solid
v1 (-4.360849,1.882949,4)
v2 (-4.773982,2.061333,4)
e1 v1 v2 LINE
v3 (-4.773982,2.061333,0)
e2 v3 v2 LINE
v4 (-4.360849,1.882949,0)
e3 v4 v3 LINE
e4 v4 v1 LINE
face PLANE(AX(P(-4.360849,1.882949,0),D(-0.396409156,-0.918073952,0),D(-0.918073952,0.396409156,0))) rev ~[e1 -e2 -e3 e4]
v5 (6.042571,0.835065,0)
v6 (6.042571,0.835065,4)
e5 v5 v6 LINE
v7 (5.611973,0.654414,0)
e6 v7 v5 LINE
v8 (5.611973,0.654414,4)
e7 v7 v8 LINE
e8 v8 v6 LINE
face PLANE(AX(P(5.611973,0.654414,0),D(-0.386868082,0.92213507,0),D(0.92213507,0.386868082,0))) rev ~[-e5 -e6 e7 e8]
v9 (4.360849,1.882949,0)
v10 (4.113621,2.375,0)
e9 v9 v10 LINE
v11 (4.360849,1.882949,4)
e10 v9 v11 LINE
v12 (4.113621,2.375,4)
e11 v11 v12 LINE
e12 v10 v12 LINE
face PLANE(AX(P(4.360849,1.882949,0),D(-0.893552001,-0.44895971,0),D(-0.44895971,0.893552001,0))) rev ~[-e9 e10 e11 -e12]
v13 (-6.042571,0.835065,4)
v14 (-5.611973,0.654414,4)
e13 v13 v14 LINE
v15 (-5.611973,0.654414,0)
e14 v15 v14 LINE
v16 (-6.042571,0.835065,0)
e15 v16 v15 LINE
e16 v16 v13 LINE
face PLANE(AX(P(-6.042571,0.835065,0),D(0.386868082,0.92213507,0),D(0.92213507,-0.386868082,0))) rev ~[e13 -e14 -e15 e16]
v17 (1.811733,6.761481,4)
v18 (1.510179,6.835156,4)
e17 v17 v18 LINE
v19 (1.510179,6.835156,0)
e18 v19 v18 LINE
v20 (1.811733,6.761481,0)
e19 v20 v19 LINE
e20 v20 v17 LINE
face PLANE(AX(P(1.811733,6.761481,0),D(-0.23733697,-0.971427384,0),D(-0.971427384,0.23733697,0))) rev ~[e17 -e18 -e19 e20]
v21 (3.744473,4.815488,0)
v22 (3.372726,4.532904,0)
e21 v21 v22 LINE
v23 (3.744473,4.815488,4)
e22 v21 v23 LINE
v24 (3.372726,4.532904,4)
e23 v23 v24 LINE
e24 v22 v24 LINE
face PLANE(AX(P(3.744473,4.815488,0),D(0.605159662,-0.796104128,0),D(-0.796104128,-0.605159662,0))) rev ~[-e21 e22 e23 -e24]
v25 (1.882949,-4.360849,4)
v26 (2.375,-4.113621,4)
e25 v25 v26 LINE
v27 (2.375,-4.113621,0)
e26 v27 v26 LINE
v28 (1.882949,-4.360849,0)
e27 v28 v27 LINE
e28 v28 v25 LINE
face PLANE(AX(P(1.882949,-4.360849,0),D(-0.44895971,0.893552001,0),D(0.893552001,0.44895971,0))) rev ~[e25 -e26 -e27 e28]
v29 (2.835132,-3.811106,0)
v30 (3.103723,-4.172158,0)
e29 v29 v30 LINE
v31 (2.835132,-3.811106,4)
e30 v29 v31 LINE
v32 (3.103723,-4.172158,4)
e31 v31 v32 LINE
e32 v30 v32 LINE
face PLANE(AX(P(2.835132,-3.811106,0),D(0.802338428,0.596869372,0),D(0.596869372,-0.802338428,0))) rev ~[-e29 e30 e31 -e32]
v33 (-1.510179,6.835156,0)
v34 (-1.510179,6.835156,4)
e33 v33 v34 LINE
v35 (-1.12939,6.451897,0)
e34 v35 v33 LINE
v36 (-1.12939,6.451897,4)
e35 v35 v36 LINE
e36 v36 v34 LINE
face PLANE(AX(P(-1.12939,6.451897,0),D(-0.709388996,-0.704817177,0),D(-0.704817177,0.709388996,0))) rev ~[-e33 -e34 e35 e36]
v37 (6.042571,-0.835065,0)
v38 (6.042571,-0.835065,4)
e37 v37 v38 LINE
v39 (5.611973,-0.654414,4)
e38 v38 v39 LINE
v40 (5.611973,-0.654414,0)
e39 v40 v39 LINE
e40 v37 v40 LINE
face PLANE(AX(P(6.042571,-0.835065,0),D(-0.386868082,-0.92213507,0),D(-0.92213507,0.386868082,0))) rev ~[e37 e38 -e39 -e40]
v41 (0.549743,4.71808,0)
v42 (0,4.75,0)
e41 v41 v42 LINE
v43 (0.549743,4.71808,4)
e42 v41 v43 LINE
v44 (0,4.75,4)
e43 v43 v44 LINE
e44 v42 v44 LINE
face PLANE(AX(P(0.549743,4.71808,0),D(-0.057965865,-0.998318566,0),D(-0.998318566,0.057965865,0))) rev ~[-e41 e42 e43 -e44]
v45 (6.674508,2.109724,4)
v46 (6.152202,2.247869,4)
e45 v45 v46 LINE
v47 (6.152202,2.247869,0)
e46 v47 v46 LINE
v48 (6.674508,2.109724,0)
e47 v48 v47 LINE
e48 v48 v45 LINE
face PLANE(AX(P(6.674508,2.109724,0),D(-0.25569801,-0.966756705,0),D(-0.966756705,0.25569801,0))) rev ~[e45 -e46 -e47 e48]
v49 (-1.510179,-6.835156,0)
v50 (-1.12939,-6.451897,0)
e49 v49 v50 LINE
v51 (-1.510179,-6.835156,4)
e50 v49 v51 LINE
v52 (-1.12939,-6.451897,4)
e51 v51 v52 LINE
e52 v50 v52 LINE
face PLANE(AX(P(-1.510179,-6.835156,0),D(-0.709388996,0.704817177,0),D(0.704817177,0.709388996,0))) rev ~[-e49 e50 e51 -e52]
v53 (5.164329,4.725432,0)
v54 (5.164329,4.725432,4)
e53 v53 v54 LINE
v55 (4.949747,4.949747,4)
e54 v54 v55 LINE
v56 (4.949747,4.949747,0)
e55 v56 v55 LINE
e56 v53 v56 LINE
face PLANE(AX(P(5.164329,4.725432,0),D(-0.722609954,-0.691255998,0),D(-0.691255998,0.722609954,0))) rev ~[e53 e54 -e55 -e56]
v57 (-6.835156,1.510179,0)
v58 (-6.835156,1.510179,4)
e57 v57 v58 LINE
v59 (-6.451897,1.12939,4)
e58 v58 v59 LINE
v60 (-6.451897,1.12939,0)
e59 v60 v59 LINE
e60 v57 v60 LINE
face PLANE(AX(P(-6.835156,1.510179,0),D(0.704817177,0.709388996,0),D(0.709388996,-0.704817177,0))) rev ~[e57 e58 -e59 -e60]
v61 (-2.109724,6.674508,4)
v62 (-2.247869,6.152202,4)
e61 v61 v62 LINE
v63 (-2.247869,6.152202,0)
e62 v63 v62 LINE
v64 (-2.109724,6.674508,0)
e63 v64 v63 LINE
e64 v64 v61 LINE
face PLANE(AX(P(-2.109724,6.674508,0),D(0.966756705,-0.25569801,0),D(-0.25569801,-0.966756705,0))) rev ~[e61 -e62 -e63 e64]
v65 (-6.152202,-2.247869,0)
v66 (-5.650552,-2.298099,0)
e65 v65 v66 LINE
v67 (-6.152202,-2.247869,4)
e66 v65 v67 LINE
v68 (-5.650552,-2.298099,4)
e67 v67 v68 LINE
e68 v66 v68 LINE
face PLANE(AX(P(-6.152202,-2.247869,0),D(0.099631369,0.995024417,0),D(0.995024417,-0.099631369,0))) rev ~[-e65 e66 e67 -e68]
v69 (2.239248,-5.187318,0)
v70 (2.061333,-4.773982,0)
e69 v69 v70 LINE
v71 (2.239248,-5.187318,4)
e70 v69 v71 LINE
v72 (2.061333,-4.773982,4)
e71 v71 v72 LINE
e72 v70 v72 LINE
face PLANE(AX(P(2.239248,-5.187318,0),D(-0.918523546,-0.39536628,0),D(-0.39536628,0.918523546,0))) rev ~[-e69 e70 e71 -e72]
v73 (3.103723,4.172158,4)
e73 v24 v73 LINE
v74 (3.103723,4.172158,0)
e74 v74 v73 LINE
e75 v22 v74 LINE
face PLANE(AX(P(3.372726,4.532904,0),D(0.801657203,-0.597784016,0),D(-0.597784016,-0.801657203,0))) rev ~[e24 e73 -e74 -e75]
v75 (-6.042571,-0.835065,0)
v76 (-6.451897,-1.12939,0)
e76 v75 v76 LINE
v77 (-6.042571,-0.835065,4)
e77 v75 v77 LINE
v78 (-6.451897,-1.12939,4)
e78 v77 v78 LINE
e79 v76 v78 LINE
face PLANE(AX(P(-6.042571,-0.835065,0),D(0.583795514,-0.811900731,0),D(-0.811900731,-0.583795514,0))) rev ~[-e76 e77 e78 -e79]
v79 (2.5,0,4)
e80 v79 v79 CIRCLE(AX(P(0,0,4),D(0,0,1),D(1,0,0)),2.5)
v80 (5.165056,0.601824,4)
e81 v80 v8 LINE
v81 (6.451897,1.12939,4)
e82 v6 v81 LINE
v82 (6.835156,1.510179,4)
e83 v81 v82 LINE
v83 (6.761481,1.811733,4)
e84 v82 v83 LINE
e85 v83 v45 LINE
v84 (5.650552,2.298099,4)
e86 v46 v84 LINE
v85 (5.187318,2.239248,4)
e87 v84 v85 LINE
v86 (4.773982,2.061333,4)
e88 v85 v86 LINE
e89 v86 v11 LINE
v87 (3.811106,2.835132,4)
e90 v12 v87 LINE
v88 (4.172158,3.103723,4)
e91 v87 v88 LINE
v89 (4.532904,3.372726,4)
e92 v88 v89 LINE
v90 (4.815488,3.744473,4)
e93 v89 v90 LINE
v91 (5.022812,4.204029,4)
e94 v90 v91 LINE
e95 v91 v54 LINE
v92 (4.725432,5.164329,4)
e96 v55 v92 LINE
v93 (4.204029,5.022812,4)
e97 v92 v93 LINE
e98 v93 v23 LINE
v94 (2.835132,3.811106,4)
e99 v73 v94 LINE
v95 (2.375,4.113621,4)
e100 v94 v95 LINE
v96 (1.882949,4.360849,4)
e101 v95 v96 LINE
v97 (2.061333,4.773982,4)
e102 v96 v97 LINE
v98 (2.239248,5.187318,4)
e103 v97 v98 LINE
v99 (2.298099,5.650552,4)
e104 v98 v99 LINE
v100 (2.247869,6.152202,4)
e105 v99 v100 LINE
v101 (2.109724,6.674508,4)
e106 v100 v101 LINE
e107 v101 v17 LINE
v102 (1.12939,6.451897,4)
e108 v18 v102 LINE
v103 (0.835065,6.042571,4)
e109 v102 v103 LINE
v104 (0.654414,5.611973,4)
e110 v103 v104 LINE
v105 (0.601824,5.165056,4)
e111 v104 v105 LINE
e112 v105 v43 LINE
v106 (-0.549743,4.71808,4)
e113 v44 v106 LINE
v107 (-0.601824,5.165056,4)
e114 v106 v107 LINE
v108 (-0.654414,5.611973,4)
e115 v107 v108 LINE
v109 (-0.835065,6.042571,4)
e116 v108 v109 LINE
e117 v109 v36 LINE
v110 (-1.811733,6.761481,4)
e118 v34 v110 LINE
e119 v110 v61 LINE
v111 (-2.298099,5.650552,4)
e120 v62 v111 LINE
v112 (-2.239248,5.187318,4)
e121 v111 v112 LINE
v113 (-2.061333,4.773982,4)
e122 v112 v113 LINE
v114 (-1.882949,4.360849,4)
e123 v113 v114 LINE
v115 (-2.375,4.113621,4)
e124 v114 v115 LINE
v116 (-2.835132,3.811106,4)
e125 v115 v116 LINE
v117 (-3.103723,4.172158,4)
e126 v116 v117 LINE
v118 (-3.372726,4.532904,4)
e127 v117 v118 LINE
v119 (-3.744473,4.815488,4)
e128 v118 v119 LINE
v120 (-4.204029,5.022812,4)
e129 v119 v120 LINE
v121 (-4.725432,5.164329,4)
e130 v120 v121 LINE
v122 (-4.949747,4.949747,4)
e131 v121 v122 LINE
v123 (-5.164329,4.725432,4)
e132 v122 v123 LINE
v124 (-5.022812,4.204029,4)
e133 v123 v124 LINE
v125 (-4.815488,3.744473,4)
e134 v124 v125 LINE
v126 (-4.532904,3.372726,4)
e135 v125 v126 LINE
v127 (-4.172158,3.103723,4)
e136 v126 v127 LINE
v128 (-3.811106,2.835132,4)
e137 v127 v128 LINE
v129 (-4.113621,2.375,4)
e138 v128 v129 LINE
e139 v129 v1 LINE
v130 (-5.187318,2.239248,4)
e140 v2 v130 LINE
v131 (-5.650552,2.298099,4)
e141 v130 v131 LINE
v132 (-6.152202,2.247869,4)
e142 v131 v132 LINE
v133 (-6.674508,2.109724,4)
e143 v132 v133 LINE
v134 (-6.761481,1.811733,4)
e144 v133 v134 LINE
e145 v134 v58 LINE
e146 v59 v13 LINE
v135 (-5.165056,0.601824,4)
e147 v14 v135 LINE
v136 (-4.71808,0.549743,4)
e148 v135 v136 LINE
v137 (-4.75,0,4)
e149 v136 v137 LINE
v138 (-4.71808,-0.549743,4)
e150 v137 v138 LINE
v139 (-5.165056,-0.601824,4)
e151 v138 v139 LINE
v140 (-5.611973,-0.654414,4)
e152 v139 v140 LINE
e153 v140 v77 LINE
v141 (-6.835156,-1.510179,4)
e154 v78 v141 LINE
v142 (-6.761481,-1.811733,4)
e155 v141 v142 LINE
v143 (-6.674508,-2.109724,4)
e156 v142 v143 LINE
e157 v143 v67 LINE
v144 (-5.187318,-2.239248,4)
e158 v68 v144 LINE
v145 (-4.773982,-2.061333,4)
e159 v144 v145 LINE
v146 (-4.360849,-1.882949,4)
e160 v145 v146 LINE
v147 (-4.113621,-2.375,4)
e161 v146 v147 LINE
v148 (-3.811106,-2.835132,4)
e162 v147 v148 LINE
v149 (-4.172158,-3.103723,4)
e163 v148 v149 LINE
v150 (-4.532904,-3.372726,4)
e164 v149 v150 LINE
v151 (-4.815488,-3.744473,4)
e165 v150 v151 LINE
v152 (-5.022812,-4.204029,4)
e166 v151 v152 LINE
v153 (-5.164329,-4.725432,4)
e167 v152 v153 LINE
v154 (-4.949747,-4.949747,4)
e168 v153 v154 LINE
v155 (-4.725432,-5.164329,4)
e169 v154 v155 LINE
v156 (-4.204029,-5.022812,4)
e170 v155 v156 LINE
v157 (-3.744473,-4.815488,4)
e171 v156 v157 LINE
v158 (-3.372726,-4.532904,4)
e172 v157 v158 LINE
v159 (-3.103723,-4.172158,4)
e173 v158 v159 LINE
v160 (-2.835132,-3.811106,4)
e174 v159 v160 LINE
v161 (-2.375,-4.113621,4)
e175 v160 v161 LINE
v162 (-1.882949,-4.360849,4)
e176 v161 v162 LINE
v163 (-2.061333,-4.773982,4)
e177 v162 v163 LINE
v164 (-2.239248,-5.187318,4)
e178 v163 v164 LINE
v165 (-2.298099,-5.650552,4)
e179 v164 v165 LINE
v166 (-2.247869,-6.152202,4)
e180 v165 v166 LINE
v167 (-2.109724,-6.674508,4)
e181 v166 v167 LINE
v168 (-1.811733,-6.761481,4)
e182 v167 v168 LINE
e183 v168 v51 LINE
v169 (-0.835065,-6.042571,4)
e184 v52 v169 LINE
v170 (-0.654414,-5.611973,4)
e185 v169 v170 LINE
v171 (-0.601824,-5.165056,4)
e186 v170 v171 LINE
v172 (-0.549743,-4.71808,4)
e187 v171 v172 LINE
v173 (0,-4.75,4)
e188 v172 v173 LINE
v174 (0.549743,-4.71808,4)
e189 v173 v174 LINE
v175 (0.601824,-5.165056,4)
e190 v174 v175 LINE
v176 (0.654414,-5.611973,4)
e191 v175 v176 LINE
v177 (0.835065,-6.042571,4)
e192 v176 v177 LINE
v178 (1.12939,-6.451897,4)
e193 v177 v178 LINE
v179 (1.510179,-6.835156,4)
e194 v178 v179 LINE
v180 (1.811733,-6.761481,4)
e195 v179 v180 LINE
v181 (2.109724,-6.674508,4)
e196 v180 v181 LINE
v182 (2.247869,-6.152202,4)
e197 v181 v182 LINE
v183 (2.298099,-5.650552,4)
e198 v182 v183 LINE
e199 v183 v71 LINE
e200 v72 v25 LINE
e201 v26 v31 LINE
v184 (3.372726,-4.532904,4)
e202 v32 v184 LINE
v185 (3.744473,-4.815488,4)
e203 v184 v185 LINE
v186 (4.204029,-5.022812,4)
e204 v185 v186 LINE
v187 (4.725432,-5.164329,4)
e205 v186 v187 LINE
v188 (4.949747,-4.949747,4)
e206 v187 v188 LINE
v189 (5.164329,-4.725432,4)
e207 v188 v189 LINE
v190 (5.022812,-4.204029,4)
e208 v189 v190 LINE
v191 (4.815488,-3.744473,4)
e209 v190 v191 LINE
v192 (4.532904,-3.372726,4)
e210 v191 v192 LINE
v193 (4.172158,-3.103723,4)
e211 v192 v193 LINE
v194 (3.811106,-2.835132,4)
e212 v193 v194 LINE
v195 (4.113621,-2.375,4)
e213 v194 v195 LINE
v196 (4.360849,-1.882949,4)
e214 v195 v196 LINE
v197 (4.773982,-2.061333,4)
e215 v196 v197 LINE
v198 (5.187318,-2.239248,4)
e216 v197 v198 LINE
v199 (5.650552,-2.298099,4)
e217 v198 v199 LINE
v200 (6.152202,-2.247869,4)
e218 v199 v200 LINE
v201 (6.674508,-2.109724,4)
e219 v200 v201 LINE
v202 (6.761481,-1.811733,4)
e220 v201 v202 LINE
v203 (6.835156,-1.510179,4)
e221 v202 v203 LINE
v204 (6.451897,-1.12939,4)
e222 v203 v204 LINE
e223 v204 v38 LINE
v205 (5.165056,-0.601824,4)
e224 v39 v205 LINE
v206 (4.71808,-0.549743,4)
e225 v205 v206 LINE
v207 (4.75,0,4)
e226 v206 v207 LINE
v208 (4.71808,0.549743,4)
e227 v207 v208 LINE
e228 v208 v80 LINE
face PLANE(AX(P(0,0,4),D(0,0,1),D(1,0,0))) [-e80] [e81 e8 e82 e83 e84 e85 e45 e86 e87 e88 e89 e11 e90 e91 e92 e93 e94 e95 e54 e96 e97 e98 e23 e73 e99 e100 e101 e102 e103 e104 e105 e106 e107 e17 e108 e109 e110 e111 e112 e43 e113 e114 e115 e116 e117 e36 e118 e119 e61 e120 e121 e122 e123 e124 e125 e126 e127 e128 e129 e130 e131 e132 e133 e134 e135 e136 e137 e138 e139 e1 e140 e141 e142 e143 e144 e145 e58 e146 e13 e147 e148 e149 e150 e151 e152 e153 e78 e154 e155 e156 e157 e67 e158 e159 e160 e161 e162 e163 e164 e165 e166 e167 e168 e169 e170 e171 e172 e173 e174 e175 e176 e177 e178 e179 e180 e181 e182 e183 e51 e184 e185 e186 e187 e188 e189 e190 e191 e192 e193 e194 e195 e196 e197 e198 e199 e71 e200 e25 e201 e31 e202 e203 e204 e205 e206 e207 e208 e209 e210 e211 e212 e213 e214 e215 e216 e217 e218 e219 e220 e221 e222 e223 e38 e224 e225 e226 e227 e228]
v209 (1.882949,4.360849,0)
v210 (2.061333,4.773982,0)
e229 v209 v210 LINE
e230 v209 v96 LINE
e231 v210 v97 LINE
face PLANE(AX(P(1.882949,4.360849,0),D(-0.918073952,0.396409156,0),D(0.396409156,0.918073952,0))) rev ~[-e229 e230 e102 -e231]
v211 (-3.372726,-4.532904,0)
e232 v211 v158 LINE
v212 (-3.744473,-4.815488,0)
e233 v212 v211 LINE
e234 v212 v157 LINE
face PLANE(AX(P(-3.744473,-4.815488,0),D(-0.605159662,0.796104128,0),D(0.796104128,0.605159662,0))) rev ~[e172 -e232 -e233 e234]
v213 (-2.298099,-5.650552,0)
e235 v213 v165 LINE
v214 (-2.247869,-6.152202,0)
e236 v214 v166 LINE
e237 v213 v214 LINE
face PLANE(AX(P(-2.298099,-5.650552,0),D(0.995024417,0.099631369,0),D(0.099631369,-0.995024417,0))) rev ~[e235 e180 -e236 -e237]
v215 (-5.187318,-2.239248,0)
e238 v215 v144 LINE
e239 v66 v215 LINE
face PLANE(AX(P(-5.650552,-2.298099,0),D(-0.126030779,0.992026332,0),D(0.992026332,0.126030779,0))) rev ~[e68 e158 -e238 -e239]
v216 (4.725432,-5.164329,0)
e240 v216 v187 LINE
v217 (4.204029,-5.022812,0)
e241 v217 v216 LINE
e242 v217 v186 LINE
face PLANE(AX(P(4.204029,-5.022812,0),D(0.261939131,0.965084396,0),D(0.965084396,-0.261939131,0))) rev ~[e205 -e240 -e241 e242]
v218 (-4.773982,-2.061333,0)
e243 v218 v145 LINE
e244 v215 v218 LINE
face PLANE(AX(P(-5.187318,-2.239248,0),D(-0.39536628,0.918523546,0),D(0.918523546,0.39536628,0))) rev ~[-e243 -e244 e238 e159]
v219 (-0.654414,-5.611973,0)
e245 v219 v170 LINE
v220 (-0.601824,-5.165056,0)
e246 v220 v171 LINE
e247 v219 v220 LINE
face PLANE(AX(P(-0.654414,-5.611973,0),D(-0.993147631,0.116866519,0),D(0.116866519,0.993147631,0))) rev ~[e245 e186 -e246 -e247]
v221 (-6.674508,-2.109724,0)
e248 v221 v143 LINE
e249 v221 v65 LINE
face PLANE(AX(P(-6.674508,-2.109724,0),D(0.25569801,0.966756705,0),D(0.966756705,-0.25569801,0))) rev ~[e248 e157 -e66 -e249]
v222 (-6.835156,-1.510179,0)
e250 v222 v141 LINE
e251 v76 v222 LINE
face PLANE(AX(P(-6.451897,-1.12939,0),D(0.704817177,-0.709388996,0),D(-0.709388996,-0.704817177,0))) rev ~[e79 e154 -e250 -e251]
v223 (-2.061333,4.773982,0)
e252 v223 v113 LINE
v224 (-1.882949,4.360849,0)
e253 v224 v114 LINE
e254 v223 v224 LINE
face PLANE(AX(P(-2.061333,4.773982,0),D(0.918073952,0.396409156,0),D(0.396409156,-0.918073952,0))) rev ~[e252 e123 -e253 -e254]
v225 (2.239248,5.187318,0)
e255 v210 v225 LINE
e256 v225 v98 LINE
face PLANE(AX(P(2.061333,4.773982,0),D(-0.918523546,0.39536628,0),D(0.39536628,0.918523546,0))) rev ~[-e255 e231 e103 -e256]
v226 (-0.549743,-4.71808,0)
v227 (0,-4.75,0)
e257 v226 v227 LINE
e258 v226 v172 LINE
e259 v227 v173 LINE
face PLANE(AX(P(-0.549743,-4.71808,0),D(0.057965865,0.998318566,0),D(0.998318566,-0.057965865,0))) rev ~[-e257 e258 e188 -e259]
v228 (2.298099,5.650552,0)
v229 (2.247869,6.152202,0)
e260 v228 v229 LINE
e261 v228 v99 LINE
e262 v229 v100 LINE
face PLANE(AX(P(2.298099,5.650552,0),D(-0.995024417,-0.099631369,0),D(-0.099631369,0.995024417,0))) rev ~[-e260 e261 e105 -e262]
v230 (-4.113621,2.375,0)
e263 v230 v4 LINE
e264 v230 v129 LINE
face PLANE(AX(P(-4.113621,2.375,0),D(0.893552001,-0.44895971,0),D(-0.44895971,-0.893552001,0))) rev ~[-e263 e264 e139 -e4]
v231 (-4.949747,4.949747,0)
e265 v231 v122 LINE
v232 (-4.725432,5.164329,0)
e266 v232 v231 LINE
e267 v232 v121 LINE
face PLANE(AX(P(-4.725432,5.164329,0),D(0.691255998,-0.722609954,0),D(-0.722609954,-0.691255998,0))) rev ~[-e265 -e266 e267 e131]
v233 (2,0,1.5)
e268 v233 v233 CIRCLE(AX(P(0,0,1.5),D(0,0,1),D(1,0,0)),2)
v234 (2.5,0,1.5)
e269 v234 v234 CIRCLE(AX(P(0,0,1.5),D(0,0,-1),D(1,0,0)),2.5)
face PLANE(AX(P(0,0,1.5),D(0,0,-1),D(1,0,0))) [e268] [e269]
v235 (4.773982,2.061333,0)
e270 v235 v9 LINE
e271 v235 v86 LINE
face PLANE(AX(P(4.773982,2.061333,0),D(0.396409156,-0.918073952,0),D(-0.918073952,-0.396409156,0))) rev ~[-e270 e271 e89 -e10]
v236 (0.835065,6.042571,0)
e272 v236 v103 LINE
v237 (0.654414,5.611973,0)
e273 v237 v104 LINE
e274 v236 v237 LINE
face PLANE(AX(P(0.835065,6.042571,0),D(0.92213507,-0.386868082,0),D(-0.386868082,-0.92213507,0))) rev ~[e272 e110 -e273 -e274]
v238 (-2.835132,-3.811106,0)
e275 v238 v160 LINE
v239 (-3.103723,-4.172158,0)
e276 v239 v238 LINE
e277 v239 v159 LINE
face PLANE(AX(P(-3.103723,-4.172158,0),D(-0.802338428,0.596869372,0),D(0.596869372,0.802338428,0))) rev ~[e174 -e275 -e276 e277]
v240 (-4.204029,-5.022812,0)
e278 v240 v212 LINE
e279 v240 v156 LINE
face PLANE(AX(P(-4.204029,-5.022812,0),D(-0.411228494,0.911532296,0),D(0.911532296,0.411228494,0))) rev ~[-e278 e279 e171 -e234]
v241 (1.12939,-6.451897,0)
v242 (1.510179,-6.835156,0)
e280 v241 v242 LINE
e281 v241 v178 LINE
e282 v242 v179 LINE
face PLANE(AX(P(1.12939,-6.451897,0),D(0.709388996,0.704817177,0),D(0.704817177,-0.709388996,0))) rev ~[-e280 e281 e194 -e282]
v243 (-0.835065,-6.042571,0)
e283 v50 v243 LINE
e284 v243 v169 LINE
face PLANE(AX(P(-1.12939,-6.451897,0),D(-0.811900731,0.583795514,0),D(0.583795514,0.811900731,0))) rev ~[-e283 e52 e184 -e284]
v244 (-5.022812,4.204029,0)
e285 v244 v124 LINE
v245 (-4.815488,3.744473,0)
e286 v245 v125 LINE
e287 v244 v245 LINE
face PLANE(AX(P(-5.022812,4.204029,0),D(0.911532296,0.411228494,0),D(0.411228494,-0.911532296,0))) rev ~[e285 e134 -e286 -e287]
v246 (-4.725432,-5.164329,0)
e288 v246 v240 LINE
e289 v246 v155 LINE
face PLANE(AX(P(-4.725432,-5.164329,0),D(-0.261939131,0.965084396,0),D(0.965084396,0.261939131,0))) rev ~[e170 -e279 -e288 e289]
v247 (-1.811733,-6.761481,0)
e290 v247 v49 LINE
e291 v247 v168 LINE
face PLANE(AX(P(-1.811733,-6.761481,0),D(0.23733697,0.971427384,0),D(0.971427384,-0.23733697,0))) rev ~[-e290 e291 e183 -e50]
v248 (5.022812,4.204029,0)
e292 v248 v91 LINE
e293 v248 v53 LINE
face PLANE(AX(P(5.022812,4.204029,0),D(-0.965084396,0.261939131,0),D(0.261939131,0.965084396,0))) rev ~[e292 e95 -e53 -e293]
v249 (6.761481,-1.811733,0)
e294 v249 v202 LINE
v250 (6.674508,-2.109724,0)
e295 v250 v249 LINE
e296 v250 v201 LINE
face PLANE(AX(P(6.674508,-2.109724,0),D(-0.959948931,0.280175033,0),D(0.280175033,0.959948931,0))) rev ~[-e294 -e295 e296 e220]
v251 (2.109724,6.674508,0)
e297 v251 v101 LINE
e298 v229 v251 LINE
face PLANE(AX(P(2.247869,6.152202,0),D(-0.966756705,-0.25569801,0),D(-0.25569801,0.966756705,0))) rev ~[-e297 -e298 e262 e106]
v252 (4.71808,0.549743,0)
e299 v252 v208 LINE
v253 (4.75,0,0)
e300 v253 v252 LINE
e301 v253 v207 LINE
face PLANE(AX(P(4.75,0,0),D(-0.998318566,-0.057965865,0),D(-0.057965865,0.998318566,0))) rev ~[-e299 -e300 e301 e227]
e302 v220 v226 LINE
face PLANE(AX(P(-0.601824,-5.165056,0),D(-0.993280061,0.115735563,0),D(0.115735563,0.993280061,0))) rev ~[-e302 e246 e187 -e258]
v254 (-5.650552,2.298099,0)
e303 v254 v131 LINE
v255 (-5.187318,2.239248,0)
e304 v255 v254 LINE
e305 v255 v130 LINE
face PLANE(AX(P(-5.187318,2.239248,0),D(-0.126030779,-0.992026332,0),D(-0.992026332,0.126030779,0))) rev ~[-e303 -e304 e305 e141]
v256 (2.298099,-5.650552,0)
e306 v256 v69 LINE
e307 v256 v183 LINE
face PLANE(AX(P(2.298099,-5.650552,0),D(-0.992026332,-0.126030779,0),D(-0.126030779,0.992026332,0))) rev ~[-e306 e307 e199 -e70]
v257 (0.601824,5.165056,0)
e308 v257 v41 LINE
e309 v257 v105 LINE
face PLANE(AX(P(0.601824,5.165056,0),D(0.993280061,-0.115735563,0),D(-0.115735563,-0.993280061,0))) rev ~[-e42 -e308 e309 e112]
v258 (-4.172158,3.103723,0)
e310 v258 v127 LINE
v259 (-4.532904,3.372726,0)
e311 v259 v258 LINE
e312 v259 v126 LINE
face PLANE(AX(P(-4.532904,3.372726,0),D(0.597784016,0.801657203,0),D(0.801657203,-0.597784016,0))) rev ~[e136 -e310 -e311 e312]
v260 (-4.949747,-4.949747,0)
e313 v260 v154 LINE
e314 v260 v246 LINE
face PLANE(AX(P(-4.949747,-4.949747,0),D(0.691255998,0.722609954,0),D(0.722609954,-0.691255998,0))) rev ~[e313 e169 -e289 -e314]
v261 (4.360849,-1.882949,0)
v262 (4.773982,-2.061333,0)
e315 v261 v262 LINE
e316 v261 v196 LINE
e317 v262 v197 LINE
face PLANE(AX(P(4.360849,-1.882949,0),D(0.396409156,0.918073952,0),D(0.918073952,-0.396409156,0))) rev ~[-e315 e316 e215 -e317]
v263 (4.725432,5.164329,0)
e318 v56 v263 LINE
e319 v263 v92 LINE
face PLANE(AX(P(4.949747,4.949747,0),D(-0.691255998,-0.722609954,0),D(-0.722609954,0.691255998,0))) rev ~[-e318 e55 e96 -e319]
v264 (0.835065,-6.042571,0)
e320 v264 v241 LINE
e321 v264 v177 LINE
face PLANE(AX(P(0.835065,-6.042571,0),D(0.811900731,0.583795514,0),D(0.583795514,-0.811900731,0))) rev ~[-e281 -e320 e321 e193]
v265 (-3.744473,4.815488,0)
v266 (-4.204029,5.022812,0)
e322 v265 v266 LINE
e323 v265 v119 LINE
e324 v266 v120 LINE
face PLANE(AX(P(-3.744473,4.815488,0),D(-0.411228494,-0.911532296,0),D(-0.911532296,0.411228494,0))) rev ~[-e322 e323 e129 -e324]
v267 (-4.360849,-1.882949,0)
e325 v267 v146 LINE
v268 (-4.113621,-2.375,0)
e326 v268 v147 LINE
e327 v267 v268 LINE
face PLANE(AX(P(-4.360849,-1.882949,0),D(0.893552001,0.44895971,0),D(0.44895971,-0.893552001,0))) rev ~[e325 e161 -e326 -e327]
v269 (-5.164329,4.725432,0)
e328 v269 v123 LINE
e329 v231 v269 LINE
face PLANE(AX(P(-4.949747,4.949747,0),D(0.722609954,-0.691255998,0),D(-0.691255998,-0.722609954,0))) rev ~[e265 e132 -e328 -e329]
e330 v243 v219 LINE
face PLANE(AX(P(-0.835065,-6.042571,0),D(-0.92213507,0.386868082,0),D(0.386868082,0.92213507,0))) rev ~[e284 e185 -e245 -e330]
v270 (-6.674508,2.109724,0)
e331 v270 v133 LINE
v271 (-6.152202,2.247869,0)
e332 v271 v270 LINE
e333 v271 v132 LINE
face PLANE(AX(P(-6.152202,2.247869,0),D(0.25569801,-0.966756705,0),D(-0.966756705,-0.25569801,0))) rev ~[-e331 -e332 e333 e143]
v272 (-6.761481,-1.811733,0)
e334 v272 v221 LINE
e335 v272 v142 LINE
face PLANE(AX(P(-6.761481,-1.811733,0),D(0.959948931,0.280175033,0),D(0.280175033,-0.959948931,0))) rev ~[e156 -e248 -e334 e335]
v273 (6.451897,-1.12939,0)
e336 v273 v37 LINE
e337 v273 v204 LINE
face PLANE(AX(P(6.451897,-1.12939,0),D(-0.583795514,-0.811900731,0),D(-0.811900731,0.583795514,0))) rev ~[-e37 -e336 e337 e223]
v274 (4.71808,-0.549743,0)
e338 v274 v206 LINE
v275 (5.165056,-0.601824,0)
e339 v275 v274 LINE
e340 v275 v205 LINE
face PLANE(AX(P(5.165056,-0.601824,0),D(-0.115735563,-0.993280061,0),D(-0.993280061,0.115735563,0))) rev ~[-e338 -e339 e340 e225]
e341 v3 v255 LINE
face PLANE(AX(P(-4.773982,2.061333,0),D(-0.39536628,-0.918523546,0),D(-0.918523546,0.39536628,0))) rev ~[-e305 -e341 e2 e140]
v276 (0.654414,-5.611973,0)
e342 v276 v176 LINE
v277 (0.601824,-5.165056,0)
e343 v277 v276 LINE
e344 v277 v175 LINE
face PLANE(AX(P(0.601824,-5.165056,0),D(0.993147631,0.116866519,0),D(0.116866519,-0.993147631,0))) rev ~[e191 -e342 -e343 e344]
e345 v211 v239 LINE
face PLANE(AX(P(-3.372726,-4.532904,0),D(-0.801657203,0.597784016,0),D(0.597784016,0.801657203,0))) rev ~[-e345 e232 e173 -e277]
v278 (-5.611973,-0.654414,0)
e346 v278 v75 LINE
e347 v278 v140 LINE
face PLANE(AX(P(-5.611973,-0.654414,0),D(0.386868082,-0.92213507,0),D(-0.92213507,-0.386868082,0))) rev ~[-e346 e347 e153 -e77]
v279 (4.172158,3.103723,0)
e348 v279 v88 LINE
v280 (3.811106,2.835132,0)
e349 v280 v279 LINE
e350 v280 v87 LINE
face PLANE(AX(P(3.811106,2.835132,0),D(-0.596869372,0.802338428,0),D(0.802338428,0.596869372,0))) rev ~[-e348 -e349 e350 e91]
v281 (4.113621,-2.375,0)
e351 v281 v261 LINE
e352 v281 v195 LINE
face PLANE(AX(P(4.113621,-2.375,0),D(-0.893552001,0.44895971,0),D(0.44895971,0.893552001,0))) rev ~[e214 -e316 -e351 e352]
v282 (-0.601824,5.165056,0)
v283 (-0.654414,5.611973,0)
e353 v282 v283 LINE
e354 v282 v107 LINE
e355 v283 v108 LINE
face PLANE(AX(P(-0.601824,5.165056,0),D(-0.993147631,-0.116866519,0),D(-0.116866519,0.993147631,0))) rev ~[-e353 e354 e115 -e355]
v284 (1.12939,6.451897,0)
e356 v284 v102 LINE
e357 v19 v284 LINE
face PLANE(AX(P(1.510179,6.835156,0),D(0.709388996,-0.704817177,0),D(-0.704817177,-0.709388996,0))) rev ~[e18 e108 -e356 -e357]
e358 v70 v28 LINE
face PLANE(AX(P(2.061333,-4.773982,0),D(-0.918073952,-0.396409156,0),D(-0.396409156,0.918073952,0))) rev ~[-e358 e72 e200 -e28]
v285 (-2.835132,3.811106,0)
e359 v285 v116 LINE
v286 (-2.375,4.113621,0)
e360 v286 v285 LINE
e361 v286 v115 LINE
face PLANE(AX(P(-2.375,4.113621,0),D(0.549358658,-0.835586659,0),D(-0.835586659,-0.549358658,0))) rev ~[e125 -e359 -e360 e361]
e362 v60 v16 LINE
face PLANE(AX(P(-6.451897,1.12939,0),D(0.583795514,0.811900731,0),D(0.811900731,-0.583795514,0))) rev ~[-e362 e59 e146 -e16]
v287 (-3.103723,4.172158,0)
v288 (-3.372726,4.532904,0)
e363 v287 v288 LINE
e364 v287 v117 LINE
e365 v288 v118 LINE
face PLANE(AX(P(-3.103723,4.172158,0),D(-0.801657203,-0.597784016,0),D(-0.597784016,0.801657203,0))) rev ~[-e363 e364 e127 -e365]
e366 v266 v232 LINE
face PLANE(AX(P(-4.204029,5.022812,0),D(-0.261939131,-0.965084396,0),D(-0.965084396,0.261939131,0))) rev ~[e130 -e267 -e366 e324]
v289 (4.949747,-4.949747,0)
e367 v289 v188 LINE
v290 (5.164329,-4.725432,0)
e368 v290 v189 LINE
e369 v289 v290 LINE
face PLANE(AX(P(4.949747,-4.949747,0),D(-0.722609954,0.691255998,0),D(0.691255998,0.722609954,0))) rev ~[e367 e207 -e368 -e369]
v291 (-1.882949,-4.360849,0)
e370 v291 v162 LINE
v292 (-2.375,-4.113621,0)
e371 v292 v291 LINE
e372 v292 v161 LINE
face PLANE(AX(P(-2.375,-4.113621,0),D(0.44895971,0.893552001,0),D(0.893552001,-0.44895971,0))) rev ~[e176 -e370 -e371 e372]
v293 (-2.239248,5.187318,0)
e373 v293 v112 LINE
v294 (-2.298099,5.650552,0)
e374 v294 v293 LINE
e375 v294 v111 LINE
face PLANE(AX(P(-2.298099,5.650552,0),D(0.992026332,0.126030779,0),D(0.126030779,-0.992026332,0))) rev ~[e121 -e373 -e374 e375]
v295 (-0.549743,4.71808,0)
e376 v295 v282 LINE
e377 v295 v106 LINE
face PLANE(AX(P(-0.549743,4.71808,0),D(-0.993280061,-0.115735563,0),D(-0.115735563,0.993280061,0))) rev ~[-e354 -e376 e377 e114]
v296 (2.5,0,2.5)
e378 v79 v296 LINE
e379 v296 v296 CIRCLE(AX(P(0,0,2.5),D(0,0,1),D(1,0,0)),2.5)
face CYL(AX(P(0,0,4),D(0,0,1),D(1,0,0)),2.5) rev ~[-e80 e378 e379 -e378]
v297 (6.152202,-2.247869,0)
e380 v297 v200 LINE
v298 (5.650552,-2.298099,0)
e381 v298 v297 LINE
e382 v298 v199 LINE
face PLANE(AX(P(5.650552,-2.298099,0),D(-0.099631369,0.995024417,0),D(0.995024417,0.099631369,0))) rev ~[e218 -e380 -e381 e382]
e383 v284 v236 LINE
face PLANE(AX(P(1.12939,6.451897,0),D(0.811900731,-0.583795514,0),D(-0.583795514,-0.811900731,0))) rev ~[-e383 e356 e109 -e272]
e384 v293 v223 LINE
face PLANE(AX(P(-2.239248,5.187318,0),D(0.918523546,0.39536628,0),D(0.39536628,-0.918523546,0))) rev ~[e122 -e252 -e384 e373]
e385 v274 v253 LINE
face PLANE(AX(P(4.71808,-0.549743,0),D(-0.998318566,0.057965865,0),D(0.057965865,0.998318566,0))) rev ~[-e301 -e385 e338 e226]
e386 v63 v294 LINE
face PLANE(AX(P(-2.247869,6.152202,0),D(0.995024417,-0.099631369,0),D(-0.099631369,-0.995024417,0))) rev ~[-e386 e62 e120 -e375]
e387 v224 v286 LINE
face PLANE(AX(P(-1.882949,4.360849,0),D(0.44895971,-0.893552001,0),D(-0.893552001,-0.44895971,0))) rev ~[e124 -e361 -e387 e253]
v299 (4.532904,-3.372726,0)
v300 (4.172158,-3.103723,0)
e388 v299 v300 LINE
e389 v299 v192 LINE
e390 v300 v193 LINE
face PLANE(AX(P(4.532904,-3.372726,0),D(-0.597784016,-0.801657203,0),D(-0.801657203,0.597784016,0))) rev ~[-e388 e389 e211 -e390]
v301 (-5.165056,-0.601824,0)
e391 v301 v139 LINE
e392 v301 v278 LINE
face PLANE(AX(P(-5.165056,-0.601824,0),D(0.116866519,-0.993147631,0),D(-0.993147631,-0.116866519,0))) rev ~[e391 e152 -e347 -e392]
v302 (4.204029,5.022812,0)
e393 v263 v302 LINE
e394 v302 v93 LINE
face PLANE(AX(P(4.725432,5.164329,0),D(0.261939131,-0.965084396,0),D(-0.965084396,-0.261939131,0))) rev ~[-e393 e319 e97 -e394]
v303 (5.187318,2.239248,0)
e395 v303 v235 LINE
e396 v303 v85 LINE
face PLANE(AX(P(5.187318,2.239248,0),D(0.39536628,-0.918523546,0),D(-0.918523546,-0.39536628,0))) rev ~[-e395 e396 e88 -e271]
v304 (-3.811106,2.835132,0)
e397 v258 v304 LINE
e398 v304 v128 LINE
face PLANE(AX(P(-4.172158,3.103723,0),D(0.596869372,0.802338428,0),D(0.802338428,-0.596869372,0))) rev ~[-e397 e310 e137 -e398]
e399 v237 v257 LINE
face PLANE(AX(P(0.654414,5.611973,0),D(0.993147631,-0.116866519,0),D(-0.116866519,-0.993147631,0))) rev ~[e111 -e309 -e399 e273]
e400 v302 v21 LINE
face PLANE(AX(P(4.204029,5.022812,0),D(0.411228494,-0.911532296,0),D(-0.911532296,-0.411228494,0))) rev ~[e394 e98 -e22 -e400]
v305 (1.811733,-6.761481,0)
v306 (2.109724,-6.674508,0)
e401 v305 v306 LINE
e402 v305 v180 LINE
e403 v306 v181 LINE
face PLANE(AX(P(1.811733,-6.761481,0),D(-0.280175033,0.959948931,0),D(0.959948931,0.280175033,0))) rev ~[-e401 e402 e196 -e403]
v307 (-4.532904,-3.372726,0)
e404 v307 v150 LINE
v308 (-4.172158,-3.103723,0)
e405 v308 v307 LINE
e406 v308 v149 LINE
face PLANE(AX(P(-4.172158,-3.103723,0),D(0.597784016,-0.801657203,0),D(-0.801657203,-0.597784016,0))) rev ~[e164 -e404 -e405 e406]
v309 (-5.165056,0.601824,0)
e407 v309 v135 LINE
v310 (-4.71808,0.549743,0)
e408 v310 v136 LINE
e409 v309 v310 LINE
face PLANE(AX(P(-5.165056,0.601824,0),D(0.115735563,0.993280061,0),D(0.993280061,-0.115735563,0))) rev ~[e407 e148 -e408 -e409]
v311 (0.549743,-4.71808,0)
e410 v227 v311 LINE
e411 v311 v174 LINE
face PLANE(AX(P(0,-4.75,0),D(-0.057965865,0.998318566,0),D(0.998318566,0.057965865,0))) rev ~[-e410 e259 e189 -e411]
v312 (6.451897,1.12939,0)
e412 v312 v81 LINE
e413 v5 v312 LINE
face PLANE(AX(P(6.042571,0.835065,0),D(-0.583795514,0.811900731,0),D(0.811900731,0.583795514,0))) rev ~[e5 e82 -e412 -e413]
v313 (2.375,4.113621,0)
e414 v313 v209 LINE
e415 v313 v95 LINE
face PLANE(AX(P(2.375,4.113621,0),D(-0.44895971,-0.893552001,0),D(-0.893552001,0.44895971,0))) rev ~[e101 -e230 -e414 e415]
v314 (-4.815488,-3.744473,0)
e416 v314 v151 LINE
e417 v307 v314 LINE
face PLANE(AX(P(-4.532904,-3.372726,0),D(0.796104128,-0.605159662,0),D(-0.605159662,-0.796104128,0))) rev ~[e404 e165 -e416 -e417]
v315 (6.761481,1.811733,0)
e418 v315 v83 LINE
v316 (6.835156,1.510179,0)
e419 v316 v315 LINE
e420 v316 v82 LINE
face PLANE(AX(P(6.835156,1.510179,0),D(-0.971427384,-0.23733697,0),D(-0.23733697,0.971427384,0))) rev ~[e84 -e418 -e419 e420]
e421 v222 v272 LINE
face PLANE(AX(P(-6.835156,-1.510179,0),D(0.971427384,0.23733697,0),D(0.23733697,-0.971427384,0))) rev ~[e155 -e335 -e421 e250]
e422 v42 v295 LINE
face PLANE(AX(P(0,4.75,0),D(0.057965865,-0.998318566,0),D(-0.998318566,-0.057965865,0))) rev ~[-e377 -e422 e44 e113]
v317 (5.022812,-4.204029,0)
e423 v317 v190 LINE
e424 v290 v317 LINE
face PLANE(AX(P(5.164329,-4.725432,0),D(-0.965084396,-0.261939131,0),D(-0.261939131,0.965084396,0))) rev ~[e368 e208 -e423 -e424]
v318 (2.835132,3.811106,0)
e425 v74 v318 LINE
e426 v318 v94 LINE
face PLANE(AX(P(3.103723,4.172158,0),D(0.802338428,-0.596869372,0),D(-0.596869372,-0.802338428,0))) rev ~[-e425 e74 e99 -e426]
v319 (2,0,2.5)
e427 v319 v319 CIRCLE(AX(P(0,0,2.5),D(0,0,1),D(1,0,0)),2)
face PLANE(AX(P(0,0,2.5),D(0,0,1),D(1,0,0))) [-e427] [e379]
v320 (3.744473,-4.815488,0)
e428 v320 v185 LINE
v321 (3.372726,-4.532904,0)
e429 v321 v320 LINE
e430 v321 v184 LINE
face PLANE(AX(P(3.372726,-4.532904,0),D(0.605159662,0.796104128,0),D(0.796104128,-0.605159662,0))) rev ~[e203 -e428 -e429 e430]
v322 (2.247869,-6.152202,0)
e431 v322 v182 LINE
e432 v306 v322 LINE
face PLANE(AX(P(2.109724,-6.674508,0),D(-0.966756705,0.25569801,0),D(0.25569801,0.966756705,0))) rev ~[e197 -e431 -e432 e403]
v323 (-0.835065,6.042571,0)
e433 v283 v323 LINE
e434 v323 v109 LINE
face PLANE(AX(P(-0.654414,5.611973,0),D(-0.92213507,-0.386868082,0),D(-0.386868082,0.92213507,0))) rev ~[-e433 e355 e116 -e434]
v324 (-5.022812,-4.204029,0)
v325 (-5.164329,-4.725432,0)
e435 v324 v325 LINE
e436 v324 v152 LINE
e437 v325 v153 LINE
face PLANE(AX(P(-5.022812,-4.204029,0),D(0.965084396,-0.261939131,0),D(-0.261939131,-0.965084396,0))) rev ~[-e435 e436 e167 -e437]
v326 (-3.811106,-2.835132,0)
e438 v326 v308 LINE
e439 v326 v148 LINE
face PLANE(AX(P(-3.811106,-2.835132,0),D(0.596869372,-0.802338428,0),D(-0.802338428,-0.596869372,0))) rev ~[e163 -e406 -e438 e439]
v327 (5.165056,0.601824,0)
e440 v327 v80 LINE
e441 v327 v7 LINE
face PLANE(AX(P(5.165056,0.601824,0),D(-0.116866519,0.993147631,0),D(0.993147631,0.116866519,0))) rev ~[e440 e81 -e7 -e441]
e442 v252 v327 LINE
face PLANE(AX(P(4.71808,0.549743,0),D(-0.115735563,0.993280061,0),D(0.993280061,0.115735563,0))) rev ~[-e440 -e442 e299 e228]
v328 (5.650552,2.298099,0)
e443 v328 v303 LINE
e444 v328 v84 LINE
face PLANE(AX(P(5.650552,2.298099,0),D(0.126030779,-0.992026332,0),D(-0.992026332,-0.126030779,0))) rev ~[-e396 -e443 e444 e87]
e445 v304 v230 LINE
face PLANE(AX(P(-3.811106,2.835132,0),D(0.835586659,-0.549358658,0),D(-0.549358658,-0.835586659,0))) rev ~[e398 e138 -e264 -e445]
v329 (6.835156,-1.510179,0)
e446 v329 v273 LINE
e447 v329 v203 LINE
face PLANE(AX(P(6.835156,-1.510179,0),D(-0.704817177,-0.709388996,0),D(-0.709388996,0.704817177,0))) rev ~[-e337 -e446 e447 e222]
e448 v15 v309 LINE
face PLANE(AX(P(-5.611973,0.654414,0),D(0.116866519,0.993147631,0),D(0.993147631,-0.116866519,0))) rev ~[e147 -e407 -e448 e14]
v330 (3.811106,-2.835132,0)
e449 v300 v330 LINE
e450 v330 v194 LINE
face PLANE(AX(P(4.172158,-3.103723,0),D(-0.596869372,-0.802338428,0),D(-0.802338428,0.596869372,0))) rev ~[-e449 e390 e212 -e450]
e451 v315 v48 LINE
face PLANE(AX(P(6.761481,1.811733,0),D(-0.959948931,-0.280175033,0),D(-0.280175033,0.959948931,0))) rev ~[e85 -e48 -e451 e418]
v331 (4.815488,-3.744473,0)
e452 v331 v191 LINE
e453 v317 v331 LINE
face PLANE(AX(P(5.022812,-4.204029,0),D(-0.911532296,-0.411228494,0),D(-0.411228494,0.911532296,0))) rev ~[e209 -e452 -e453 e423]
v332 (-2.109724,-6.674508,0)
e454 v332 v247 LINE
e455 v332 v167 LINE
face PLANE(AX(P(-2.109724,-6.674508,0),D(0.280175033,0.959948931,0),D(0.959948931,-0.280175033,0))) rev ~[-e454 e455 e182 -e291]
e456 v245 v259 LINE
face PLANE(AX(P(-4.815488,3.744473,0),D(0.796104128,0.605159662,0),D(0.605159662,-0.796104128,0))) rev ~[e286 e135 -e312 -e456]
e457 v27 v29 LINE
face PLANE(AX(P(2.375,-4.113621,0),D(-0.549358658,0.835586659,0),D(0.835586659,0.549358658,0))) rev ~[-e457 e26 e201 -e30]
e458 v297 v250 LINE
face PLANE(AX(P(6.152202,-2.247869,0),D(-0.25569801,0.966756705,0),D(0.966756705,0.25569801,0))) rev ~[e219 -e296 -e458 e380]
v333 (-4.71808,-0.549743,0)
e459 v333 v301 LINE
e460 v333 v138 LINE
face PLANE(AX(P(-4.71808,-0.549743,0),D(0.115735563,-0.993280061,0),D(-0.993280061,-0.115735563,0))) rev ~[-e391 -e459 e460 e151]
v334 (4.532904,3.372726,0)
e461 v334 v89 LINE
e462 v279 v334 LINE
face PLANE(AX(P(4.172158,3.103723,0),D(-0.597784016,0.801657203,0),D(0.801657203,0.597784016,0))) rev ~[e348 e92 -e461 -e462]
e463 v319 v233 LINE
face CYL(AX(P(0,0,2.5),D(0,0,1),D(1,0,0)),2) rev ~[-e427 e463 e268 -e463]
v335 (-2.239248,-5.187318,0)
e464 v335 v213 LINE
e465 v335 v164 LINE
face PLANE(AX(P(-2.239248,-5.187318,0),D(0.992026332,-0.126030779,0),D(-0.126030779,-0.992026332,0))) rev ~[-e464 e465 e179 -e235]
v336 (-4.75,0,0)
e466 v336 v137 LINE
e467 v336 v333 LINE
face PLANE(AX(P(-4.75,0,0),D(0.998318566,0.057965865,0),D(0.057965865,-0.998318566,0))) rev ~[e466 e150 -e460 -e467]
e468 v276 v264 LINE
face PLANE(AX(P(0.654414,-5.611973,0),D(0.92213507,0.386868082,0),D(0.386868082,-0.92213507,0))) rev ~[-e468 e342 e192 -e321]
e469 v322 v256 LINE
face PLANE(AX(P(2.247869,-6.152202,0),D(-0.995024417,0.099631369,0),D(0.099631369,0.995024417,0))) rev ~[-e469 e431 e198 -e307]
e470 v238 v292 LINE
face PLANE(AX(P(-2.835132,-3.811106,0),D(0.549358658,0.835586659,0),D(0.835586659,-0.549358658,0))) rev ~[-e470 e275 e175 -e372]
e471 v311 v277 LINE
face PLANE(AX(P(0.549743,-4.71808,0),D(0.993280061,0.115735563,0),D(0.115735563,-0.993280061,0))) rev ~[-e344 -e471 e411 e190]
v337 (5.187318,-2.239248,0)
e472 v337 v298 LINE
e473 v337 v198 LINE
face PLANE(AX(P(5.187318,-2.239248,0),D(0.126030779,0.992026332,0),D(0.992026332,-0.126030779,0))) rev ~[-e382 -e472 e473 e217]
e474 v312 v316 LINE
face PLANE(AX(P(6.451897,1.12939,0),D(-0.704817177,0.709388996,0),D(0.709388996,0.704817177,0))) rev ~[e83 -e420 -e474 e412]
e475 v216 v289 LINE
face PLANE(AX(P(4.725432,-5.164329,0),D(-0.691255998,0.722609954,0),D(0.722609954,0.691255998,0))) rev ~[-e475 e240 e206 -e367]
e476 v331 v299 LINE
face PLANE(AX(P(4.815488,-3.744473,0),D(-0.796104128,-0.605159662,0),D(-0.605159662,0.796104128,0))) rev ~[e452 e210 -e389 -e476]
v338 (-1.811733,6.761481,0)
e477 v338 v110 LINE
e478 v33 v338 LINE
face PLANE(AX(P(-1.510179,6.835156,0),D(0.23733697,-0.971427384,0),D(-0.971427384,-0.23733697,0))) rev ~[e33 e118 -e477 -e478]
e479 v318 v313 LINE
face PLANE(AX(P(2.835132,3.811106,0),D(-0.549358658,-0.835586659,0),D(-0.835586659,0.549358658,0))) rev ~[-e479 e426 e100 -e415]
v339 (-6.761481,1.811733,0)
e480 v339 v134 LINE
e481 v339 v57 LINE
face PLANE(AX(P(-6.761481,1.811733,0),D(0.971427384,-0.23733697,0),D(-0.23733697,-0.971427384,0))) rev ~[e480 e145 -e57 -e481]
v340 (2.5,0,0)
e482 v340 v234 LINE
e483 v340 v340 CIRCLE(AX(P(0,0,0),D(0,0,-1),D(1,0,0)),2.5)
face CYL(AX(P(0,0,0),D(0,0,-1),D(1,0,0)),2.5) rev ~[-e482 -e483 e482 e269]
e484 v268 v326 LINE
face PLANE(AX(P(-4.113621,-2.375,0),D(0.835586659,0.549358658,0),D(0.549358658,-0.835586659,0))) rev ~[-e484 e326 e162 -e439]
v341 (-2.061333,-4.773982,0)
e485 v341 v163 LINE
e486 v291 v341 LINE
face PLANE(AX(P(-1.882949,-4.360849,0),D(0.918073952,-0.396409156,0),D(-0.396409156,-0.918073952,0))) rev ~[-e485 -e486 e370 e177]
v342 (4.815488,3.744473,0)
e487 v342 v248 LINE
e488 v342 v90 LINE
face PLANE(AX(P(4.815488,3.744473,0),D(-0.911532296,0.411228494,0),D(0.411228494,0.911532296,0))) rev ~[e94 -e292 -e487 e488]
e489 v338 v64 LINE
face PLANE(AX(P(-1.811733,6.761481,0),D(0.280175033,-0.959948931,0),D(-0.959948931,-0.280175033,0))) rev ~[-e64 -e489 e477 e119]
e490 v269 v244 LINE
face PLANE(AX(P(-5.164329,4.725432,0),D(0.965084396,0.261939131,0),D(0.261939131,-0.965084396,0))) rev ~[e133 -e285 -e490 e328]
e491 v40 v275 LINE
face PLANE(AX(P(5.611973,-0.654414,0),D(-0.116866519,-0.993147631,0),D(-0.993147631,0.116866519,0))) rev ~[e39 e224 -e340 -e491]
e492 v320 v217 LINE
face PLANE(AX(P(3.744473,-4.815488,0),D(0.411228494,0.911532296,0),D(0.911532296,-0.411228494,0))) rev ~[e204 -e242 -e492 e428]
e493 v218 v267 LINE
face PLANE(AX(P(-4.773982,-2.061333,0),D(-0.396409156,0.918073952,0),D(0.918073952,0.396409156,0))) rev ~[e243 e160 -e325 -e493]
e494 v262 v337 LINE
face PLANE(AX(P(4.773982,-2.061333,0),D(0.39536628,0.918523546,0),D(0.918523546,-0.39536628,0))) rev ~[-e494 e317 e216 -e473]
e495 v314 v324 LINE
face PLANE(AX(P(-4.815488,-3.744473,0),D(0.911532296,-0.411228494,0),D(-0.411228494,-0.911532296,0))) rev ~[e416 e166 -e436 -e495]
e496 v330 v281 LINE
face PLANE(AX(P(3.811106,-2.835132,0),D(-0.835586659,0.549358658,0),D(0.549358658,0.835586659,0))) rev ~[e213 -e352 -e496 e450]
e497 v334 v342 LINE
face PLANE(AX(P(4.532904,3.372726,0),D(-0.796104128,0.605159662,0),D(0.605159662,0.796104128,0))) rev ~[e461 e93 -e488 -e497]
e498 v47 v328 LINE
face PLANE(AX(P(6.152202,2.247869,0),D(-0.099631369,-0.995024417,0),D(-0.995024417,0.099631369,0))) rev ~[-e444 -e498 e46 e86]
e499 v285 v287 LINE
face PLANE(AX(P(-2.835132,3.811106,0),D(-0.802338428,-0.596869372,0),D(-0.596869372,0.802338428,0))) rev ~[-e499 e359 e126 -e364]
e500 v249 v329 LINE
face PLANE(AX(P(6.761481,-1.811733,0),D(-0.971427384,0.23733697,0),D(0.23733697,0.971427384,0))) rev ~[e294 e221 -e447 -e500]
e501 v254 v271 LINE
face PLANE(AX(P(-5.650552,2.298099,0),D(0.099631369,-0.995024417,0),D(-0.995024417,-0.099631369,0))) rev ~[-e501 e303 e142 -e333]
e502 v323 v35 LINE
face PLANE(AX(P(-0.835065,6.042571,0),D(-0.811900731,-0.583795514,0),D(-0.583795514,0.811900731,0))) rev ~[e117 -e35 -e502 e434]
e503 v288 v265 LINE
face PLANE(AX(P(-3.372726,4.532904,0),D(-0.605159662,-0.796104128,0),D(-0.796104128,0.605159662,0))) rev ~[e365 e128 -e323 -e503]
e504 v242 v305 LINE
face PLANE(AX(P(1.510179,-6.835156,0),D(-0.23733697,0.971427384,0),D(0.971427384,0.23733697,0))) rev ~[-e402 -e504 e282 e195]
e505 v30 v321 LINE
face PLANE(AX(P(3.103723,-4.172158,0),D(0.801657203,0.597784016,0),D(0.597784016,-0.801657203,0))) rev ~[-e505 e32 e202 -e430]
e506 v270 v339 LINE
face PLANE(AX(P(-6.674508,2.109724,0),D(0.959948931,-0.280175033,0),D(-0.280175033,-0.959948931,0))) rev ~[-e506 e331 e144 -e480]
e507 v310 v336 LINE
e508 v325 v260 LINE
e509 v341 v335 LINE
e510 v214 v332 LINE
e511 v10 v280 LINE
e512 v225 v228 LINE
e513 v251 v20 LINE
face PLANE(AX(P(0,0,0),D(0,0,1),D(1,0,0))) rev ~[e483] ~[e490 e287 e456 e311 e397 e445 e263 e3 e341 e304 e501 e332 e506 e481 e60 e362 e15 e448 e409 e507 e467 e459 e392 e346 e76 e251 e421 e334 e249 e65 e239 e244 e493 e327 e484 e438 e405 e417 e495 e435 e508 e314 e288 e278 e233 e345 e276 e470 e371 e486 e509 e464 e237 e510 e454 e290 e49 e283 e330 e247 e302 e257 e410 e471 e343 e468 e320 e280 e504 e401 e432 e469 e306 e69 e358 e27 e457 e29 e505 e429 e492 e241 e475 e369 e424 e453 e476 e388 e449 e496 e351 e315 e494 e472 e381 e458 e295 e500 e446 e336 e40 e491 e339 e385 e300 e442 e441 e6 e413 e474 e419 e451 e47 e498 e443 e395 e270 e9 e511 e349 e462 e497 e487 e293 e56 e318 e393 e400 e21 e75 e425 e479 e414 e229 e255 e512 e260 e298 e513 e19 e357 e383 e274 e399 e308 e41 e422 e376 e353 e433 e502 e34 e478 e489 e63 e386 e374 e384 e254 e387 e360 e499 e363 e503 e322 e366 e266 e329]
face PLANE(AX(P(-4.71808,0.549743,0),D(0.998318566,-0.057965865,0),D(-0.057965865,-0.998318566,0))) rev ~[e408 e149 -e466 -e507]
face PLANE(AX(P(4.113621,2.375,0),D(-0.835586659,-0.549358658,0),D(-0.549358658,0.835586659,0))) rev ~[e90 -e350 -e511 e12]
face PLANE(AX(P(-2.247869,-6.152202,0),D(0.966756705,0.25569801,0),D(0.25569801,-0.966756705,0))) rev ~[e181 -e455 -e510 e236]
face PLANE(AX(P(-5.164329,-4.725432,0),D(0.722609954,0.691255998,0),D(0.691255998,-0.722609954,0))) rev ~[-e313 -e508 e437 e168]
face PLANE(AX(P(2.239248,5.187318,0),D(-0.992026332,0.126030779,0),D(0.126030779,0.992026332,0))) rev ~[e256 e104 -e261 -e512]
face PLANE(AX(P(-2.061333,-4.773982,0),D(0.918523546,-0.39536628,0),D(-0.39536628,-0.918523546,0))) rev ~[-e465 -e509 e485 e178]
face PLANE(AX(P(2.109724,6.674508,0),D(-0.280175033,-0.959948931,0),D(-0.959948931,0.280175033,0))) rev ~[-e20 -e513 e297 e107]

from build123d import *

# Parameters (mm, degrees)
F1_DEPTH = 4
F2_R     = 2.5
F3_DEPTH = 1.5
F4_R     = 2.5
F5_DEPTH = 1.5
F6_R     = 2
F7_DEPTH = 25


with BuildPart() as f1:
    # F0 (on Top) → F1 (new body)
    with BuildSketch(Plane.XY):
        Polygon((4.71808, -0.549743), (4.75, 0), (4.71808, 0.549743), (5.165056, 0.601824), (5.611973, 0.654414), (6.042571, 0.835065), (6.451897, 1.12939), (6.835156, 1.510179), (6.761481, 1.811733), (6.674508, 2.109724), (6.152202, 2.247869), (5.650552, 2.298099), (5.187318, 2.239248), (4.773982, 2.061333), (4.360849, 1.882949), (4.113621, 2.375), (3.811106, 2.835132), (4.172158, 3.103723), (4.532904, 3.372726), (4.815488, 3.744473), (5.022812, 4.204029), (5.164329, 4.725432), (4.949747, 4.949747), (4.725432, 5.164329), (4.204029, 5.022812), (3.744473, 4.815488), (3.372726, 4.532904), (3.103723, 4.172158), (2.835132, 3.811106), (2.375, 4.113621), (1.882949, 4.360849), (2.061333, 4.773982), (2.239248, 5.187318), (2.298099, 5.650552), (2.247869, 6.152202), (2.109724, 6.674508), (1.811733, 6.761481), (1.510179, 6.835156), (1.12939, 6.451897), (0.835065, 6.042571), (0.654414, 5.611973), (0.601824, 5.165056), (0.549743, 4.71808), (0, 4.75), (-0.549743, 4.71808), (-0.601824, 5.165056), (-0.654414, 5.611973), (-0.835065, 6.042571), (-1.12939, 6.451897), (-1.510179, 6.835156), (-1.811733, 6.761481), (-2.109724, 6.674508), (-2.247869, 6.152202), (-2.298099, 5.650552), (-2.239248, 5.187318), (-2.061333, 4.773982), (-1.882949, 4.360849), (-2.375, 4.113621), (-2.835132, 3.811106), (-3.103723, 4.172158), (-3.372726, 4.532904), (-3.744473, 4.815488), (-4.204029, 5.022812), (-4.725432, 5.164329), (-4.949747, 4.949747), (-5.164329, 4.725432), (-5.022812, 4.204029), (-4.815488, 3.744473), (-4.532904, 3.372726), (-4.172158, 3.103723), (-3.811106, 2.835132), (-4.113621, 2.375), (-4.360849, 1.882949), (-4.773982, 2.061333), (-5.187318, 2.239248), (-5.650552, 2.298099), (-6.152202, 2.247869), (-6.674508, 2.109724), (-6.761481, 1.811733), (-6.835156, 1.510179), (-6.451897, 1.12939), (-6.042571, 0.835065), (-5.611973, 0.654414), (-5.165056, 0.601824), (-4.71808, 0.549743), (-4.75, 0), (-4.71808, -0.549743), (-5.165056, -0.601824), (-5.611973, -0.654414), (-6.042571, -0.835065), (-6.451897, -1.12939), (-6.835156, -1.510179), (-6.761481, -1.811733), (-6.674508, -2.109724), (-6.152202, -2.247869), (-5.650552, -2.298099), (-5.187318, -2.239248), (-4.773982, -2.061333), (-4.360849, -1.882949), (-4.113621, -2.375), (-3.811106, -2.835132), (-4.172158, -3.103723), (-4.532904, -3.372726), (-4.815488, -3.744473), (-5.022812, -4.204029), (-5.164329, -4.725432), (-4.949747, -4.949747), (-4.725432, -5.164329), (-4.204029, -5.022812), (-3.744473, -4.815488), (-3.372726, -4.532904), (-3.103723, -4.172158), (-2.835132, -3.811106), (-2.375, -4.113621), (-1.882949, -4.360849), (-2.061333, -4.773982), (-2.239248, -5.187318), (-2.298099, -5.650552), (-2.247869, -6.152202), (-2.109724, -6.674508), (-1.811733, -6.761481), (-1.510179, -6.835156), (-1.12939, -6.451897), (-0.835065, -6.042571), (-0.654414, -5.611973), (-0.601824, -5.165056), (-0.549743, -4.71808), (0, -4.75), (0.549743, -4.71808), (0.601824, -5.165056), (0.654414, -5.611973), (0.835065, -6.042571), (1.12939, -6.451897), (1.510179, -6.835156), (1.811733, -6.761481), (2.109724, -6.674508), (2.247869, -6.152202), (2.298099, -5.650552), (2.239248, -5.187318), (2.061333, -4.773982), (1.882949, -4.360849), (2.375, -4.113621), (2.835132, -3.811106), (3.103723, -4.172158), (3.372726, -4.532904), (3.744473, -4.815488), (4.204029, -5.022812), (4.725432, -5.164329), (4.949747, -4.949747), (5.164329, -4.725432), (5.022812, -4.204029), (4.815488, -3.744473), (4.532904, -3.372726), (4.172158, -3.103723), (3.811106, -2.835132), (4.113621, -2.375), (4.360849, -1.882949), (4.773982, -2.061333), (5.187318, -2.239248), (5.650552, -2.298099), (6.152202, -2.247869), (6.674508, -2.109724), (6.761481, -1.811733), (6.835156, -1.510179), (6.451897, -1.12939), (6.042571, -0.835065), (5.611973, -0.654414), (5.165056, -0.601824), align=None)
    extrude(amount=F1_DEPTH)

    # F2 (on face) → F3 (cut)
    with BuildSketch(Plane(origin=(0, 0, 0), x_dir=(1, 0, 0), z_dir=(0, 0, -1))):
        Circle(F2_R)
    extrude(amount=-F3_DEPTH, mode=Mode.SUBTRACT)

    # F4 (on face) → F5 (cut)
    with BuildSketch(Plane.XY.offset(4)):
        Circle(F4_R)
    extrude(amount=-F5_DEPTH, mode=Mode.SUBTRACT)

    # F6 (on face) → F7 (cut)
    with BuildSketch(Plane.XY.offset(2.5)):
        Circle(F6_R)
    extrude(amount=-F7_DEPTH, mode=Mode.SUBTRACT)


solid = f1.part
